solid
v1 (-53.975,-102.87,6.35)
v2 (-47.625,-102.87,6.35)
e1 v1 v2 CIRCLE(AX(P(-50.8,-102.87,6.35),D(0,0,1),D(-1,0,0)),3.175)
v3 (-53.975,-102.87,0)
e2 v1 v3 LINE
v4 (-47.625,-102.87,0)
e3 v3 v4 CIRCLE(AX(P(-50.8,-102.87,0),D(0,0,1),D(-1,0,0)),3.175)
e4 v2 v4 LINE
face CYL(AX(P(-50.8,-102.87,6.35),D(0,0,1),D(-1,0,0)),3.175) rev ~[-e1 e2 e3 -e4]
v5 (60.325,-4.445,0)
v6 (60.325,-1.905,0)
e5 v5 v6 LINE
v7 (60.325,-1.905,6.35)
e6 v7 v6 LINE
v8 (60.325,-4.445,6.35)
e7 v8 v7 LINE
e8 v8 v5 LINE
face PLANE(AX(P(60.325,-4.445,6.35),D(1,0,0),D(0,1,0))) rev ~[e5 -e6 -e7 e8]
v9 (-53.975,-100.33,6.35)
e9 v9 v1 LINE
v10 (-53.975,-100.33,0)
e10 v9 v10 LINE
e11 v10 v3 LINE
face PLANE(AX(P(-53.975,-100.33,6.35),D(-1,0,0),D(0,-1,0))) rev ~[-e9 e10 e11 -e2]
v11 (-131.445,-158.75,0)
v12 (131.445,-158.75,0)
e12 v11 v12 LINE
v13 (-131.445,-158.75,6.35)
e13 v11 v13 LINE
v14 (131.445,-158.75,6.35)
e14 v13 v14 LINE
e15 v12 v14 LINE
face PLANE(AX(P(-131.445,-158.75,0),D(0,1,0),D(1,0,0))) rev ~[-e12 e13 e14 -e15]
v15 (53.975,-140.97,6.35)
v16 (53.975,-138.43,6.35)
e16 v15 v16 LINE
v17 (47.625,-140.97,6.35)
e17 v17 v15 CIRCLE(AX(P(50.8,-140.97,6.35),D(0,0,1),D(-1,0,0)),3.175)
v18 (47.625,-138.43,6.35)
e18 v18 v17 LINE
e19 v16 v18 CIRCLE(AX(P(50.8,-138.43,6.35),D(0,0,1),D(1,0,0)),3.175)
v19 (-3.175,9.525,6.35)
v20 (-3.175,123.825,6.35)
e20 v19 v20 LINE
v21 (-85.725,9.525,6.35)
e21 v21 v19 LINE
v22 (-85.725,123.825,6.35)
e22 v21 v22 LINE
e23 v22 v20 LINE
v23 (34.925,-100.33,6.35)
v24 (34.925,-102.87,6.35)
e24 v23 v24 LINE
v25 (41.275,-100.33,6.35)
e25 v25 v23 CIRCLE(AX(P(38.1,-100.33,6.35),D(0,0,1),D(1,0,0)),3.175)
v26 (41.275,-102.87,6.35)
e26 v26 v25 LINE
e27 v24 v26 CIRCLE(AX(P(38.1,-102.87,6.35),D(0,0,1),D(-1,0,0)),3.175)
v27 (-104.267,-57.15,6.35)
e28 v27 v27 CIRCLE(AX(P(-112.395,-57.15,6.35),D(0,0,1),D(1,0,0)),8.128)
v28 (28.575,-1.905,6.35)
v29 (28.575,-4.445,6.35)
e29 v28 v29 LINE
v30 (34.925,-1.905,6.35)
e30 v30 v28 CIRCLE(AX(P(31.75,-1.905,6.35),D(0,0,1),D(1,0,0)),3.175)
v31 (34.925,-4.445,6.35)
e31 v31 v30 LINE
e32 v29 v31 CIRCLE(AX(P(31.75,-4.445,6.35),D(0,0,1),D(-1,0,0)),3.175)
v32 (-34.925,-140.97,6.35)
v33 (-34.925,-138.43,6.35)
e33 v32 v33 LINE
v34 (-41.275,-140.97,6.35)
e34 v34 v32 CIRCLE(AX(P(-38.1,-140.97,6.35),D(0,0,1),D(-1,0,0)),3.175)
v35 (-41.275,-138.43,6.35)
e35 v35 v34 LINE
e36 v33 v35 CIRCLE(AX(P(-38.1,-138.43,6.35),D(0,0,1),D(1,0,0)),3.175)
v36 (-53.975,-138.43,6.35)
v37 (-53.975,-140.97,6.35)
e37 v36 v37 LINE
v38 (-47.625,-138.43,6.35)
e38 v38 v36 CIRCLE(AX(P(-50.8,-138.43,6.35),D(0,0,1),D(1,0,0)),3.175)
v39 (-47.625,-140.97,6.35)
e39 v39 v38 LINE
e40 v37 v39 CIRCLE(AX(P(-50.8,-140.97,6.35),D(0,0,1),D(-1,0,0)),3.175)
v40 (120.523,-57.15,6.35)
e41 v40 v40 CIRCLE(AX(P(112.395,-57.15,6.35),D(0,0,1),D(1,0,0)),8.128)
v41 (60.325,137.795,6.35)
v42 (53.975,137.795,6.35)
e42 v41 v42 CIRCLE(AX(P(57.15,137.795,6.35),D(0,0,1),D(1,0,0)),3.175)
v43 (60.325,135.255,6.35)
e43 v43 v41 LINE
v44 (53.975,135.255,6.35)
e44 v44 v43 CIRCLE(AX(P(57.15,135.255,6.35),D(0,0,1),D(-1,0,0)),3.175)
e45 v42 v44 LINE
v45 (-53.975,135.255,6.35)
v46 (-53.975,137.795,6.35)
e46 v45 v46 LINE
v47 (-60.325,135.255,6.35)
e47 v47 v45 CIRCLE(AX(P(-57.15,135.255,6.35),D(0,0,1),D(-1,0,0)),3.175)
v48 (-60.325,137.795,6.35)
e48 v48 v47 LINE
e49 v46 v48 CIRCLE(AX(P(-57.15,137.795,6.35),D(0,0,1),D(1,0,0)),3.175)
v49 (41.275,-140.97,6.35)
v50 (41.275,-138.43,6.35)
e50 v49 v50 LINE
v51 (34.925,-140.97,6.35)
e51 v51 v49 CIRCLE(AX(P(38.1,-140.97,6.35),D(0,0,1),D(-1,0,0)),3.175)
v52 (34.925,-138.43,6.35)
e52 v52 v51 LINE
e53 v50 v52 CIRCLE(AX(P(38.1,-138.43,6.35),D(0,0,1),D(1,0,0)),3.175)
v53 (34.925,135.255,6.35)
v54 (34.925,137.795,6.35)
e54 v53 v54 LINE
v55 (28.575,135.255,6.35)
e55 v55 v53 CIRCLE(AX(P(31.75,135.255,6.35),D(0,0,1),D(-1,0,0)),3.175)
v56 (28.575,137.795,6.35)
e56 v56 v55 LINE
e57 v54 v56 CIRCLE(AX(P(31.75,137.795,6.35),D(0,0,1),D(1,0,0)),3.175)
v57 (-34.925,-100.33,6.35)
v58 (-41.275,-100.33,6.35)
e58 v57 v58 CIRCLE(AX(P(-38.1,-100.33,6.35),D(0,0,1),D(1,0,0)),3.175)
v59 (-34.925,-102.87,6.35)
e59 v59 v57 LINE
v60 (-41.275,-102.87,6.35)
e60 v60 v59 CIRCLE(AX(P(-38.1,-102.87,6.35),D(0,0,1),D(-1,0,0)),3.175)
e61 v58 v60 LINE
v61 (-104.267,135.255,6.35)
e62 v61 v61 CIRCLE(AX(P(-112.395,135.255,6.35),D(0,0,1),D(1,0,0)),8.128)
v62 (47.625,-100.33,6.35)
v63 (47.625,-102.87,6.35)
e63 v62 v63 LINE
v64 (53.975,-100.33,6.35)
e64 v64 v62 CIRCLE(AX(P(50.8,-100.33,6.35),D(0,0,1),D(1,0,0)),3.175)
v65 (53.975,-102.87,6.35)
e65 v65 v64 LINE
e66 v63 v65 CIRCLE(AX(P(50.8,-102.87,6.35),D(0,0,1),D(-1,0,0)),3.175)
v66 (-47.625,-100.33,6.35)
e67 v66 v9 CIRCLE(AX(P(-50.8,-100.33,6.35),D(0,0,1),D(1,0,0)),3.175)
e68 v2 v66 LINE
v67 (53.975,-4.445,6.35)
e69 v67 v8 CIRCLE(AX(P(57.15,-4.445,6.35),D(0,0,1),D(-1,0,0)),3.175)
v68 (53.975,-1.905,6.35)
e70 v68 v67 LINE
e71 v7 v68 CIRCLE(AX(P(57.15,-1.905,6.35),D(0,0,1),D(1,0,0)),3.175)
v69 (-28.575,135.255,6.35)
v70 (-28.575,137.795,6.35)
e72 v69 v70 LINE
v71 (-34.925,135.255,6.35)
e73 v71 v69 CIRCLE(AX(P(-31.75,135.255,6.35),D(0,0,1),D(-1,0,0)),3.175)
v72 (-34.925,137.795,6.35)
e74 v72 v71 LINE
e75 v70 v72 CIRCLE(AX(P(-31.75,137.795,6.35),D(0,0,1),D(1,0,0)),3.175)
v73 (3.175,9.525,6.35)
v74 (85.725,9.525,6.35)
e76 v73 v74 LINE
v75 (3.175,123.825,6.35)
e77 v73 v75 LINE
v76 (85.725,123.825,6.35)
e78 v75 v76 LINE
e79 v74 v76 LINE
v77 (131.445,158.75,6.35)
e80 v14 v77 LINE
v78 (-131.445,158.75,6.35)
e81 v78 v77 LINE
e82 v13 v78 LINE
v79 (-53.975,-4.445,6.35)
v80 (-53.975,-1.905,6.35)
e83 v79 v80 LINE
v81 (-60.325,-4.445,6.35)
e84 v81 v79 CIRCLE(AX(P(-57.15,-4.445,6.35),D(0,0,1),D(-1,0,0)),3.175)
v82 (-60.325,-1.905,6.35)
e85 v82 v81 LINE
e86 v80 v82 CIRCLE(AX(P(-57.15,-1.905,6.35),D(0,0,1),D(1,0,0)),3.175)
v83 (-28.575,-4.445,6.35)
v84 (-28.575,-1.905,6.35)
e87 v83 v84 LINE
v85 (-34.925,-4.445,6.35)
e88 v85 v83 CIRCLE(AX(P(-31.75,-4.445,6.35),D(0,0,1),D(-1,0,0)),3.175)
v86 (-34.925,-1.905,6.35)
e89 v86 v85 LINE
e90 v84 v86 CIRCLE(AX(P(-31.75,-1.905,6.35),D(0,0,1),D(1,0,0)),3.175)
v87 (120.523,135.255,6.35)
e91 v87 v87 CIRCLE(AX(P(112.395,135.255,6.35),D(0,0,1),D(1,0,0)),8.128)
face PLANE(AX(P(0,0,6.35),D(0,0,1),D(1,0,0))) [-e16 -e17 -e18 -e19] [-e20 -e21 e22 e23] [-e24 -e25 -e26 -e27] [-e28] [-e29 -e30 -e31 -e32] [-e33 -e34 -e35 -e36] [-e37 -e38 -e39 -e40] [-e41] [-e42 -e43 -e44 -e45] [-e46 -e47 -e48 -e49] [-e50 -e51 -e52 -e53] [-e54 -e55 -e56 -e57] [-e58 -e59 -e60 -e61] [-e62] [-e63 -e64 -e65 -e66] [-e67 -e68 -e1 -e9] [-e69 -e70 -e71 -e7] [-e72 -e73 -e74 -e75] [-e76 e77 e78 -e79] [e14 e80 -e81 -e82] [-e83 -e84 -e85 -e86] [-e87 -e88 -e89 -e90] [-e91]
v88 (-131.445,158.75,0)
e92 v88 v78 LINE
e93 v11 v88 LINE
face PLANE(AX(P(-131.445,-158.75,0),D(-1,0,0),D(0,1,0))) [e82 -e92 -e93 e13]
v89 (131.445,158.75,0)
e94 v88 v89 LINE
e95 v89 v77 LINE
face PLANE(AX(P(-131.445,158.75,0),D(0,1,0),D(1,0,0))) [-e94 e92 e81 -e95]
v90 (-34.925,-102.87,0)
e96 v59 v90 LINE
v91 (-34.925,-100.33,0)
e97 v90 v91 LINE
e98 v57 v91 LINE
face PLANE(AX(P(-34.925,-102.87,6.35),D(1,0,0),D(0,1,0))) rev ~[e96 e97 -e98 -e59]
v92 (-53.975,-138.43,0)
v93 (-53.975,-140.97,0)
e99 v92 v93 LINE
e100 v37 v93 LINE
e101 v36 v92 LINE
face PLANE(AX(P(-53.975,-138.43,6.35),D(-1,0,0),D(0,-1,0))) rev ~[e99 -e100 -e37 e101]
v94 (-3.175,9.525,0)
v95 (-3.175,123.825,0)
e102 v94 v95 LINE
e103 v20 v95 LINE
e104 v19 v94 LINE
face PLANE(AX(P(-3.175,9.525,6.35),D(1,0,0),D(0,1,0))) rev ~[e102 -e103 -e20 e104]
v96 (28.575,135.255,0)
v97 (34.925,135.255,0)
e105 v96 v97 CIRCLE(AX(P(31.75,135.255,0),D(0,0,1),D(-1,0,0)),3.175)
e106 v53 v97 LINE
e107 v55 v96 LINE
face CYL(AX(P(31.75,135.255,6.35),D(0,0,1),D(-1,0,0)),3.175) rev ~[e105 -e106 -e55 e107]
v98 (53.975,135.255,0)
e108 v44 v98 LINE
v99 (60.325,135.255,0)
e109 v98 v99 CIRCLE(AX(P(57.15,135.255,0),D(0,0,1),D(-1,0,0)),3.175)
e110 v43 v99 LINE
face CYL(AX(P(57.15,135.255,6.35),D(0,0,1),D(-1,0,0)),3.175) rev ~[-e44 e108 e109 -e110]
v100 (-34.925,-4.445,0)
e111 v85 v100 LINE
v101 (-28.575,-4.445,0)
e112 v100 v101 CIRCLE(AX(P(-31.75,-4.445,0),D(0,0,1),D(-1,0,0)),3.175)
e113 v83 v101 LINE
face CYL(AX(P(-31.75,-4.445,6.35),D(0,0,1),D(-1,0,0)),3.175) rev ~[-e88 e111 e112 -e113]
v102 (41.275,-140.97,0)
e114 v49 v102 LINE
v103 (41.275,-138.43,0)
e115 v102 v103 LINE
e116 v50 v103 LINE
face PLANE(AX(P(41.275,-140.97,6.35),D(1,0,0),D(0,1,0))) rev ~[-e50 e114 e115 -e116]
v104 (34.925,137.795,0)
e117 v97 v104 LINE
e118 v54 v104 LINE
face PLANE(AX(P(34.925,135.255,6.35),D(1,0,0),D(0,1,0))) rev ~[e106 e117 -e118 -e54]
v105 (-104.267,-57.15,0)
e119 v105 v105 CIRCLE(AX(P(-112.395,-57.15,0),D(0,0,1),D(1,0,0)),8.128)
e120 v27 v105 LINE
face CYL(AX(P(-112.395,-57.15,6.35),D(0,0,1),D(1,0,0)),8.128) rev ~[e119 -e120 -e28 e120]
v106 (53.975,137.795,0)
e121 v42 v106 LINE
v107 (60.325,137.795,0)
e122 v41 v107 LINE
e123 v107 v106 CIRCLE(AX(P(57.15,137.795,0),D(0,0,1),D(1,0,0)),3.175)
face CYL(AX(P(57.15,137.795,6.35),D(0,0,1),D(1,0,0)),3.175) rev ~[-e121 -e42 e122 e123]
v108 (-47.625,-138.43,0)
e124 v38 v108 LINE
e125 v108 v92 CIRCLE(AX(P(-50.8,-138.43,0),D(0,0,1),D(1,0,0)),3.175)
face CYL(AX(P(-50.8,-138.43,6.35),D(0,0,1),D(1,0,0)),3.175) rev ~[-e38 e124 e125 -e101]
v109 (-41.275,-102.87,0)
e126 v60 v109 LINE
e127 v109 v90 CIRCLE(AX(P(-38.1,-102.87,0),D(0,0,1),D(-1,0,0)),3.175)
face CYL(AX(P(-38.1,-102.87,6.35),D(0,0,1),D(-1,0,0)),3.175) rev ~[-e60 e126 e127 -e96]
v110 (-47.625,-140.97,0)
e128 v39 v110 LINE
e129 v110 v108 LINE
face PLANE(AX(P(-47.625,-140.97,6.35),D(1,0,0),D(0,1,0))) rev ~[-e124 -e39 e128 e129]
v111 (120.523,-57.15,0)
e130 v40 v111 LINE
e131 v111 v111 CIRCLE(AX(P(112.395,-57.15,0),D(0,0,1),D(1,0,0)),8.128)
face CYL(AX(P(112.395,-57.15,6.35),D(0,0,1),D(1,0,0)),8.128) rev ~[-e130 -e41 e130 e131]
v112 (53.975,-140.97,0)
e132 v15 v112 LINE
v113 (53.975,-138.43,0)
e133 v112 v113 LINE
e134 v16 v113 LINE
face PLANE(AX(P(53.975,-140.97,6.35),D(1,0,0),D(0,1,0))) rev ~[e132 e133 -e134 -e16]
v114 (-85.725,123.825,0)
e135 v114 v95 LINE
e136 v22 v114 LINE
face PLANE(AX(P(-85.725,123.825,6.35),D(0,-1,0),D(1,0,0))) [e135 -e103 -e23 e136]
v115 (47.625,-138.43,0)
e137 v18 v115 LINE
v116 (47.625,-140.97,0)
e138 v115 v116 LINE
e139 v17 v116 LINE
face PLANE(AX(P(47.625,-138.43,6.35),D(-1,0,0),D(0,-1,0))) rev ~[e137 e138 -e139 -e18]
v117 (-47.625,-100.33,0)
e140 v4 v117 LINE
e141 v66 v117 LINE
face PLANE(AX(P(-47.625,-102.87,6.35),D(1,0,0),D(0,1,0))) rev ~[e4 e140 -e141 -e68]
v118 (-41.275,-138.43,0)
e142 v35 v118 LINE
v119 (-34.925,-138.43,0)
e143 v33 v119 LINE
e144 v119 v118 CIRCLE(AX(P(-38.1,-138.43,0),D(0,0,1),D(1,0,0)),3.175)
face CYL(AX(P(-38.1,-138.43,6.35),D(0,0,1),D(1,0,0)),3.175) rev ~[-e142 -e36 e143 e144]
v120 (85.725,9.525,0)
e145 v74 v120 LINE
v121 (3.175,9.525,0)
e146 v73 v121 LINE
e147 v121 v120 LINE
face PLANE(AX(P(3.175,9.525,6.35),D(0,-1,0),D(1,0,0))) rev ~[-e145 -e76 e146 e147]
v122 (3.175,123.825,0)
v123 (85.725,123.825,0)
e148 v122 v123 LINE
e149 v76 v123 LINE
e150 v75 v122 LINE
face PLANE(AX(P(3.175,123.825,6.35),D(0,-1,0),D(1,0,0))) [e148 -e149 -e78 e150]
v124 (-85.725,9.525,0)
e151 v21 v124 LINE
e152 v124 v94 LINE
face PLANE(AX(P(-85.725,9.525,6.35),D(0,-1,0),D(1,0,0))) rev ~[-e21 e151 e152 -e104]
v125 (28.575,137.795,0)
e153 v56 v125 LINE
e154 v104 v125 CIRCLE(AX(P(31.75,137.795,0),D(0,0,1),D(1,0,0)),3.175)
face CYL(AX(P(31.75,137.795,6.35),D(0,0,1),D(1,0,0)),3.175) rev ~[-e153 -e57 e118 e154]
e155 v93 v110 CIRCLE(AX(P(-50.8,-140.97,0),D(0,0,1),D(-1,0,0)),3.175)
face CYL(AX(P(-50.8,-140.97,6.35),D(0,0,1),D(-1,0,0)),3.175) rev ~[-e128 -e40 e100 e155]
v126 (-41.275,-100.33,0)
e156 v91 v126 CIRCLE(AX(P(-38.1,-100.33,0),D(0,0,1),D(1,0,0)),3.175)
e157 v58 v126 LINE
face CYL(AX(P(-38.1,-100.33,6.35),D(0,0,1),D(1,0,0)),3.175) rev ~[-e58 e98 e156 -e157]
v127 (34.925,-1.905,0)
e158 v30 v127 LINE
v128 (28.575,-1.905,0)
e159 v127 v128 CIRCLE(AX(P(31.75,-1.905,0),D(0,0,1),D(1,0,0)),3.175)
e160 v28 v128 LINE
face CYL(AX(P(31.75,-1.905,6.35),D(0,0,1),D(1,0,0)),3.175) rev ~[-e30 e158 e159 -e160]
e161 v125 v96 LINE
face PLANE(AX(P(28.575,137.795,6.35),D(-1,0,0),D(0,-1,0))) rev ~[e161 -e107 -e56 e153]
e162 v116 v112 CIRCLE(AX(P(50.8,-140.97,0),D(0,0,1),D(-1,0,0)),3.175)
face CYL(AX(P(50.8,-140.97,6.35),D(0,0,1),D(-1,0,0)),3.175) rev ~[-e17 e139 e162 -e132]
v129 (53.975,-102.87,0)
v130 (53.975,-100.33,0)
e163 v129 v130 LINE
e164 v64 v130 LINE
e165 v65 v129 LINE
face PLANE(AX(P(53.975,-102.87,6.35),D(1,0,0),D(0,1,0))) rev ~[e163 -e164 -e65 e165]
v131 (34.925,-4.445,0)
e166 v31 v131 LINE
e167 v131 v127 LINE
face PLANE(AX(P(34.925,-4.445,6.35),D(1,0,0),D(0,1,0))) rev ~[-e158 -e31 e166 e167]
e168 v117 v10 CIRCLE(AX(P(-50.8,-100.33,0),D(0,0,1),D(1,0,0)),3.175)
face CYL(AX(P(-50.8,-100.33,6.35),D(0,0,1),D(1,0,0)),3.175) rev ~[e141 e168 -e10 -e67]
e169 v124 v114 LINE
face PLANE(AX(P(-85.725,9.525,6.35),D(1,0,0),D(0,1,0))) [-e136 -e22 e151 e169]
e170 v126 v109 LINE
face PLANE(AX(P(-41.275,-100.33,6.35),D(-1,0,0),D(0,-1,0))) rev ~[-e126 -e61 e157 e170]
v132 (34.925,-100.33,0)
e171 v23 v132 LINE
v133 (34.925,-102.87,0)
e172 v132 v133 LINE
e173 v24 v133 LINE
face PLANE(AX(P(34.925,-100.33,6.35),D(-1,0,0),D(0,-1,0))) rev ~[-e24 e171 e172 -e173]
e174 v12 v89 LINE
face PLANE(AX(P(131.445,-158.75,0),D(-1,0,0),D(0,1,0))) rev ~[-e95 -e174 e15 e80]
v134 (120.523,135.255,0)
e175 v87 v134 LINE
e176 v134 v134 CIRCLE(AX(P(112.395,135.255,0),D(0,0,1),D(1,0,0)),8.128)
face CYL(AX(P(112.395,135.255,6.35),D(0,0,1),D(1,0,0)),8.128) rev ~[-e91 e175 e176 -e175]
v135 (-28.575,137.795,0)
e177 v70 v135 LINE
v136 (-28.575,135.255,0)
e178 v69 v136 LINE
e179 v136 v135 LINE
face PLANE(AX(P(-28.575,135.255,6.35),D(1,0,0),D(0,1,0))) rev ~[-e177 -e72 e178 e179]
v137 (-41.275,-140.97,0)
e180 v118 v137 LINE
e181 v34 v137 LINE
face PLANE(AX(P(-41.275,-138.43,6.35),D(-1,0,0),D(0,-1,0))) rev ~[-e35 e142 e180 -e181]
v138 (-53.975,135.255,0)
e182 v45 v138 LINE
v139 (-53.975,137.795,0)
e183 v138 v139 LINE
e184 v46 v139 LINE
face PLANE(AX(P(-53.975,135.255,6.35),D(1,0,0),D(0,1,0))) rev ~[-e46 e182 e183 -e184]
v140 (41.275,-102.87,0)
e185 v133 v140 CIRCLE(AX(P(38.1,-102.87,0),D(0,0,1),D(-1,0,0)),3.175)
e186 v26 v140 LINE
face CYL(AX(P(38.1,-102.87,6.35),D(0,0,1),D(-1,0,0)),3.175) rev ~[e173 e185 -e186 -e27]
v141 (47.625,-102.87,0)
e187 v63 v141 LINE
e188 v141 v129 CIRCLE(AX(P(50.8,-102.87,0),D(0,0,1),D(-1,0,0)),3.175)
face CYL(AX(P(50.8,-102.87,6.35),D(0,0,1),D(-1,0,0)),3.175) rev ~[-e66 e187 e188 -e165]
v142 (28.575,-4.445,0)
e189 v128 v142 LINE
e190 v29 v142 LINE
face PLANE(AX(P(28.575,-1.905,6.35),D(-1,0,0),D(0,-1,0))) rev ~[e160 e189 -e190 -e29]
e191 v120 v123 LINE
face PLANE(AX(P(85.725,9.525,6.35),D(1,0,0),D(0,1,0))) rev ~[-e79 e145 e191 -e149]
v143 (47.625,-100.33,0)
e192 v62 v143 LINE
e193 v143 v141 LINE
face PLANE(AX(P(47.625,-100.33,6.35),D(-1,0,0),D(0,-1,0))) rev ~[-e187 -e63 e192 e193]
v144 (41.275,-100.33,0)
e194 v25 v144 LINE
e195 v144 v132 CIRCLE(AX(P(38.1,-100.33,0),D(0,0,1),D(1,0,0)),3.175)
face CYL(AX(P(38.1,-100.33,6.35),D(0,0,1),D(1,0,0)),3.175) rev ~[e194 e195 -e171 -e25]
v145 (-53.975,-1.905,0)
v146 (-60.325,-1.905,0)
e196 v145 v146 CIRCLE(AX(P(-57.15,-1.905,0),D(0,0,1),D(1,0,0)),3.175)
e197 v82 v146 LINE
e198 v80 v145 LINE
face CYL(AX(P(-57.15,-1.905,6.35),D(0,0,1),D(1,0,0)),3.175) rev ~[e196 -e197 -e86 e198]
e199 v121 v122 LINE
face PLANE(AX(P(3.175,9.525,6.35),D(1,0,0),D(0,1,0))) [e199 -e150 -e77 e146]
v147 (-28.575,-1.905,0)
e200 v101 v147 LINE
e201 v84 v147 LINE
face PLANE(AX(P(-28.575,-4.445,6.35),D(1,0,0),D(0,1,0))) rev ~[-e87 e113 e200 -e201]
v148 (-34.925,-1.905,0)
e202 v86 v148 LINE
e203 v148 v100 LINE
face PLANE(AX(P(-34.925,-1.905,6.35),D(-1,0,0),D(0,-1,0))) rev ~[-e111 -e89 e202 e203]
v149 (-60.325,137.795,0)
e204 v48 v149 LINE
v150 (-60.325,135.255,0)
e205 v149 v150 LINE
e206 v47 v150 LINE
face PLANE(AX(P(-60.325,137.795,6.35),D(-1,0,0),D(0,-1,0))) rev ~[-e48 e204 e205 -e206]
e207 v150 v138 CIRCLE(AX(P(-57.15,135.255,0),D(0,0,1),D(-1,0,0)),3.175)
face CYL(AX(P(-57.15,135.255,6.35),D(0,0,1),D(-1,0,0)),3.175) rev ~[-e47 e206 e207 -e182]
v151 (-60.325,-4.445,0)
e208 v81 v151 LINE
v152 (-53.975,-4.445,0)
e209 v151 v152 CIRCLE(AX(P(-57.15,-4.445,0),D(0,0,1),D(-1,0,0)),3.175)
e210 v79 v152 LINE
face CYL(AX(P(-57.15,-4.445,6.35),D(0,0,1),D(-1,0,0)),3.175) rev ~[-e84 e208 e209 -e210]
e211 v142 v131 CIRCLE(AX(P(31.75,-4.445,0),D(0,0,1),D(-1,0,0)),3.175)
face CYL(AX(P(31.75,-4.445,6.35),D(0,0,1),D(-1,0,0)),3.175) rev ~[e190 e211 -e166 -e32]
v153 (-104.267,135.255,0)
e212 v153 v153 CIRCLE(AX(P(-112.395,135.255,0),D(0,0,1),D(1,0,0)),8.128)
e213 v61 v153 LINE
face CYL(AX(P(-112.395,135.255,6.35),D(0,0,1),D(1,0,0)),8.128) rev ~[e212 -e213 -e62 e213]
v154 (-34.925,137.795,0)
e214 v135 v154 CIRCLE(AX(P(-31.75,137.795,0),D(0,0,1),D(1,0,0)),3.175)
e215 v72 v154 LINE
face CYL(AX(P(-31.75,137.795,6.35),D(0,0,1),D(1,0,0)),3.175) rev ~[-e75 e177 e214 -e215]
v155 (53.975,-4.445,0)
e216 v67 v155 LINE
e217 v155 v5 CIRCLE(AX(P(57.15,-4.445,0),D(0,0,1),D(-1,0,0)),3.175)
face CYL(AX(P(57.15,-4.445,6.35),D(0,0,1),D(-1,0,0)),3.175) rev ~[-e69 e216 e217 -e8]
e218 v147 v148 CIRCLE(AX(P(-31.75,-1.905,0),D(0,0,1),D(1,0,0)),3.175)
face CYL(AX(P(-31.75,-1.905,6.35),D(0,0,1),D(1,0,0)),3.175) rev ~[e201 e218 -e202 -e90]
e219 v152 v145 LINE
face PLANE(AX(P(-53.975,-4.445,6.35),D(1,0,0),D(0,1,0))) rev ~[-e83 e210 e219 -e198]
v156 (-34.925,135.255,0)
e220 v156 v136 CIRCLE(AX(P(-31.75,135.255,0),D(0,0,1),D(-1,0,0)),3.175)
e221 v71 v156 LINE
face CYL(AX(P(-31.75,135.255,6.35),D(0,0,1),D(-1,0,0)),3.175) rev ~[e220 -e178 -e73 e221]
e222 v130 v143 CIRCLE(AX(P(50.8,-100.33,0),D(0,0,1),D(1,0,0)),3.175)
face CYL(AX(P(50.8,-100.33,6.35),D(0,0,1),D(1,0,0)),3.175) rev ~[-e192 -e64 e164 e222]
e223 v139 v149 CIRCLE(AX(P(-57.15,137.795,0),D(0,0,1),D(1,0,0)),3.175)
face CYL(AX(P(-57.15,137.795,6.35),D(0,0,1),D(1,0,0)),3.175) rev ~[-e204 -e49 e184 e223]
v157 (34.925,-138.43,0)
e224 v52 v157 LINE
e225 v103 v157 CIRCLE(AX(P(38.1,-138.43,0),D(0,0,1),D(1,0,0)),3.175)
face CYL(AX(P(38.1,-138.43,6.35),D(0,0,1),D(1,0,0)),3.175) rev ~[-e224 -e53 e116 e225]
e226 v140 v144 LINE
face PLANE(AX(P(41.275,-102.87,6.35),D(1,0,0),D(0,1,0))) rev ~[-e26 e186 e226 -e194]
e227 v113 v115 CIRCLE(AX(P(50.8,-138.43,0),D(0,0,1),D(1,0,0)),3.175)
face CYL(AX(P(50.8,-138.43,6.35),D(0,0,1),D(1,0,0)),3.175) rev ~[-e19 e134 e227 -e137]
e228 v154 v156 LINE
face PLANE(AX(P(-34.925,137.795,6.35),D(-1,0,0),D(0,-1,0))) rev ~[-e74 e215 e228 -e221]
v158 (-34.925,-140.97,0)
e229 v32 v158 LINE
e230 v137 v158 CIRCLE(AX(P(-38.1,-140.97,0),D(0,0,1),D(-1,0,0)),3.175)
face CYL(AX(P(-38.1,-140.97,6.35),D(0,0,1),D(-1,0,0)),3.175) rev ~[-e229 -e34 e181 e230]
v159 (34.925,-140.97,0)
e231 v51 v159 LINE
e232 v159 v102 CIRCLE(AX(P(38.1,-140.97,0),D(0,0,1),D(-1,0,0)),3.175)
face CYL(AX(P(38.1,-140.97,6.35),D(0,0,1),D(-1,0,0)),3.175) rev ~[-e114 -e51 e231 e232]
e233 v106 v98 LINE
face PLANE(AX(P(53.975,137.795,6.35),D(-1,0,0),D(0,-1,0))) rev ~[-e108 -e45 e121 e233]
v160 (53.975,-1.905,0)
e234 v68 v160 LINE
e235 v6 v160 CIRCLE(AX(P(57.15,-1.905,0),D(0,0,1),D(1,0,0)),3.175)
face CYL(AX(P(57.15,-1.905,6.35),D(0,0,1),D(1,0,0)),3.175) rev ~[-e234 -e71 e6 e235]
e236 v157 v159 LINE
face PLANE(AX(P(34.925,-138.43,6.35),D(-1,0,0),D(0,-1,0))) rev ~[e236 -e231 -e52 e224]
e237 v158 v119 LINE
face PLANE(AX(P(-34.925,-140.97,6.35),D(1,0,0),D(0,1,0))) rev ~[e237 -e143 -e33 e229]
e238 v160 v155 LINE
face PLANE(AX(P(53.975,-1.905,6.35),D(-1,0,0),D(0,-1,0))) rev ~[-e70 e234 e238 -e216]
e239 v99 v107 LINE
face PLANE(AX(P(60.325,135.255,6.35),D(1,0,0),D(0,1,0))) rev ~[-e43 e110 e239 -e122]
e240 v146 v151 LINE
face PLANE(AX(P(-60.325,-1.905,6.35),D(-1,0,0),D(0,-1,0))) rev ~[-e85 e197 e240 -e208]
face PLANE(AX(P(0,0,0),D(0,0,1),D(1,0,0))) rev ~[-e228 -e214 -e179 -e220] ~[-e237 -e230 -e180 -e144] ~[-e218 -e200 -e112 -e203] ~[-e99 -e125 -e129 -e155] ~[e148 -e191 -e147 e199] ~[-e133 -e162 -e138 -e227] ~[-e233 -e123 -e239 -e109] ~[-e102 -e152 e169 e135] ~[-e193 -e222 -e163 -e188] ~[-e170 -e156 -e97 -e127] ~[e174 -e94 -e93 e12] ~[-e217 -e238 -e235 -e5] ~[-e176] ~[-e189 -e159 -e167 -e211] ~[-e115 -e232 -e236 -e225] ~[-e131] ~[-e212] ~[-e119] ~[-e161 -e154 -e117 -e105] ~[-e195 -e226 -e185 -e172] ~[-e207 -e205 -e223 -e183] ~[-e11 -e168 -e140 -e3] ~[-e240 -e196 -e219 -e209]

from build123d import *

# Parameters (mm, degrees)
SKETCH1_W           = 262.89
SKETCH1_H           = 317.5
BOSS_EXTRUDE1_DEPTH = 6.35
SKETCH2_W           = 82.55
SKETCH2_H           = 114.3
SKETCH2_R           = 8.128
CUT_EXTRUDE2_DEPTH  = 6.35
SKETCH2_5_R         = 8.128
CUT_EXTRUDE4_DEPTH  = 207.202989855


with BuildPart() as part:
    # Sketch1 → Boss-Extrude1 (new body)
    with BuildSketch(Plane.XY):
        Rectangle(SKETCH1_W, SKETCH1_H)
    extrude(amount=BOSS_EXTRUDE1_DEPTH)

    # Sketch2 → Cut-Extrude2 (cut)
    with BuildSketch(Plane.XY.offset(6.35)):
        with BuildLine():
            Line((47.625, -138.43), (47.625, -139.7))
            Line((47.625, -139.7), (47.625, -140.97))
            ThreePointArc((47.625, -140.97), (50.8, -144.145), (53.975, -140.97))
            Line((53.975, -140.97), (53.975, -138.43))
            ThreePointArc((53.975, -138.43), (50.8, -135.255), (47.625, -138.43))
        make_face()
        with BuildLine():
            Line((41.275, -140.97), (41.275, -139.7))
            Line((41.275, -139.7), (41.275, -138.43))
            ThreePointArc((41.275, -138.43), (38.1, -135.255), (34.925, -138.43))
            Line((34.925, -138.43), (34.925, -140.97))
            ThreePointArc((34.925, -140.97), (38.1, -144.145), (41.275, -140.97))
        make_face()
        with BuildLine():
            Line((-53.975, -100.33), (-53.975, -102.87))
            ThreePointArc((-53.975, -102.87), (-50.8, -106.045), (-47.625, -102.87))
            Line((-47.625, -102.87), (-47.625, -100.33))
            ThreePointArc((-47.625, -100.33), (-50.8, -97.155), (-53.975, -100.33))
        make_face()
        with BuildLine():
            ThreePointArc((-41.275, -102.87), (-38.1, -106.045), (-34.925, -102.87))
            Line((-34.925, -102.87), (-34.925, -100.33))
            ThreePointArc((-34.925, -100.33), (-38.1, -97.155), (-41.275, -100.33))
            Line((-41.275, -100.33), (-41.275, -102.87))
        make_face()
        with BuildLine():
            Line((-34.925, -140.97), (-34.925, -138.43))
            ThreePointArc((-34.925, -138.43), (-38.1, -135.255), (-41.275, -138.43))
            Line((-41.275, -138.43), (-41.275, -140.97))
            ThreePointArc((-41.275, -140.97), (-38.1, -144.145), (-34.925, -140.97))
        make_face()
        with BuildLine():
            ThreePointArc((-47.625, -138.43), (-50.8, -135.255), (-53.975, -138.43))
            Line((-53.975, -138.43), (-53.975, -140.97))
            ThreePointArc((-53.975, -140.97), (-50.8, -144.145), (-47.625, -140.97))
            Line((-47.625, -140.97), (-47.625, -138.43))
        make_face()
        with BuildLine():
            Line((34.925, -100.33), (34.925, -102.87))
            ThreePointArc((34.925, -102.87), (38.1, -106.045), (41.275, -102.87))
            Line((41.275, -102.87), (41.275, -100.33))
            ThreePointArc((41.275, -100.33), (38.1, -97.155), (34.925, -100.33))
        make_face()
        with BuildLine():
            ThreePointArc((47.625, -102.87), (50.8, -106.045), (53.975, -102.87))
            Line((53.975, -102.87), (53.975, -100.33))
            ThreePointArc((53.975, -100.33), (50.8, -97.155), (47.625, -100.33))
            Line((47.625, -100.33), (47.625, -102.87))
        make_face()
        with Locations((-44.45, 66.675)):
            Rectangle(SKETCH2_W, SKETCH2_H)
        with BuildLine():
            Line((-28.575, 135.255), (-28.575, 137.795))
            ThreePointArc((-28.575, 137.795), (-31.75, 140.97), (-34.925, 137.795))
            Line((-34.925, 137.795), (-34.925, 135.255))
            ThreePointArc((-34.925, 135.255), (-31.75, 132.08), (-28.575, 135.255))
        make_face()
        with BuildLine():
            ThreePointArc((-53.975, 137.795), (-57.15, 140.97), (-60.325, 137.795))
            Line((-60.325, 137.795), (-60.325, 135.255))
            ThreePointArc((-60.325, 135.255), (-57.15, 132.08), (-53.975, 135.255))
            Line((-53.975, 135.255), (-53.975, 137.795))
        make_face()
        with BuildLine():
            ThreePointArc((-34.925, -4.445), (-31.75, -7.62), (-28.575, -4.445))
            Line((-28.575, -4.445), (-28.575, -1.905))
            ThreePointArc((-28.575, -1.905), (-31.75, 1.27), (-34.925, -1.905))
            Line((-34.925, -1.905), (-34.925, -4.445))
        make_face()
        with BuildLine():
            Line((-60.325, -1.905), (-60.325, -4.445))
            ThreePointArc((-60.325, -4.445), (-57.15, -7.62), (-53.975, -4.445))
            Line((-53.975, -4.445), (-53.975, -1.905))
            ThreePointArc((-53.975, -1.905), (-57.15, 1.27), (-60.325, -1.905))
        make_face()
        with BuildLine():
            Line((28.575, -1.905), (28.575, -4.445))
            ThreePointArc((28.575, -4.445), (31.75, -7.62), (34.925, -4.445))
            Line((34.925, -4.445), (34.925, -1.905))
            ThreePointArc((34.925, -1.905), (31.75, 1.27), (28.575, -1.905))
        make_face()
        with BuildLine():
            ThreePointArc((53.975, -4.445), (57.15, -7.62), (60.325, -4.445))
            Line((60.325, -4.445), (60.325, -1.905))
            ThreePointArc((60.325, -1.905), (57.15, 1.27), (53.975, -1.905))
            Line((53.975, -1.905), (53.975, -4.445))
        make_face()
        with Locations((44.45, 66.675)):
            Rectangle(SKETCH2_W, SKETCH2_H)
        with BuildLine():
            ThreePointArc((34.925, 137.795), (31.75, 140.97), (28.575, 137.795))
            Line((28.575, 137.795), (28.575, 135.255))
            ThreePointArc((28.575, 135.255), (31.75, 132.08), (34.925, 135.255))
            Line((34.925, 135.255), (34.925, 137.795))
        make_face()
        with BuildLine():
            Line((60.325, 135.255), (60.325, 137.795))
            ThreePointArc((60.325, 137.795), (57.15, 140.97), (53.975, 137.795))
            Line((53.975, 137.795), (53.975, 135.255))
            ThreePointArc((53.975, 135.255), (57.15, 132.08), (60.325, 135.255))
        make_face()
        with Locations((-112.395, -57.15)):
            Circle(SKETCH2_R)
        with Locations((112.395, -57.15)):
            Circle(SKETCH2_R)
    extrude(amount=-CUT_EXTRUDE2_DEPTH, mode=Mode.SUBTRACT)

    # Sketch2<5> → Cut-Extrude4 (cut, through all)
    with BuildSketch(Plane.XY.offset(6.35)):
        with Locations((-112.395, 135.255)):
            Circle(SKETCH2_5_R)
        with Locations((112.395, 135.255)):
            Circle(SKETCH2_5_R)
    extrude(amount=-CUT_EXTRUDE4_DEPTH, mode=Mode.SUBTRACT)


solid = part.part
